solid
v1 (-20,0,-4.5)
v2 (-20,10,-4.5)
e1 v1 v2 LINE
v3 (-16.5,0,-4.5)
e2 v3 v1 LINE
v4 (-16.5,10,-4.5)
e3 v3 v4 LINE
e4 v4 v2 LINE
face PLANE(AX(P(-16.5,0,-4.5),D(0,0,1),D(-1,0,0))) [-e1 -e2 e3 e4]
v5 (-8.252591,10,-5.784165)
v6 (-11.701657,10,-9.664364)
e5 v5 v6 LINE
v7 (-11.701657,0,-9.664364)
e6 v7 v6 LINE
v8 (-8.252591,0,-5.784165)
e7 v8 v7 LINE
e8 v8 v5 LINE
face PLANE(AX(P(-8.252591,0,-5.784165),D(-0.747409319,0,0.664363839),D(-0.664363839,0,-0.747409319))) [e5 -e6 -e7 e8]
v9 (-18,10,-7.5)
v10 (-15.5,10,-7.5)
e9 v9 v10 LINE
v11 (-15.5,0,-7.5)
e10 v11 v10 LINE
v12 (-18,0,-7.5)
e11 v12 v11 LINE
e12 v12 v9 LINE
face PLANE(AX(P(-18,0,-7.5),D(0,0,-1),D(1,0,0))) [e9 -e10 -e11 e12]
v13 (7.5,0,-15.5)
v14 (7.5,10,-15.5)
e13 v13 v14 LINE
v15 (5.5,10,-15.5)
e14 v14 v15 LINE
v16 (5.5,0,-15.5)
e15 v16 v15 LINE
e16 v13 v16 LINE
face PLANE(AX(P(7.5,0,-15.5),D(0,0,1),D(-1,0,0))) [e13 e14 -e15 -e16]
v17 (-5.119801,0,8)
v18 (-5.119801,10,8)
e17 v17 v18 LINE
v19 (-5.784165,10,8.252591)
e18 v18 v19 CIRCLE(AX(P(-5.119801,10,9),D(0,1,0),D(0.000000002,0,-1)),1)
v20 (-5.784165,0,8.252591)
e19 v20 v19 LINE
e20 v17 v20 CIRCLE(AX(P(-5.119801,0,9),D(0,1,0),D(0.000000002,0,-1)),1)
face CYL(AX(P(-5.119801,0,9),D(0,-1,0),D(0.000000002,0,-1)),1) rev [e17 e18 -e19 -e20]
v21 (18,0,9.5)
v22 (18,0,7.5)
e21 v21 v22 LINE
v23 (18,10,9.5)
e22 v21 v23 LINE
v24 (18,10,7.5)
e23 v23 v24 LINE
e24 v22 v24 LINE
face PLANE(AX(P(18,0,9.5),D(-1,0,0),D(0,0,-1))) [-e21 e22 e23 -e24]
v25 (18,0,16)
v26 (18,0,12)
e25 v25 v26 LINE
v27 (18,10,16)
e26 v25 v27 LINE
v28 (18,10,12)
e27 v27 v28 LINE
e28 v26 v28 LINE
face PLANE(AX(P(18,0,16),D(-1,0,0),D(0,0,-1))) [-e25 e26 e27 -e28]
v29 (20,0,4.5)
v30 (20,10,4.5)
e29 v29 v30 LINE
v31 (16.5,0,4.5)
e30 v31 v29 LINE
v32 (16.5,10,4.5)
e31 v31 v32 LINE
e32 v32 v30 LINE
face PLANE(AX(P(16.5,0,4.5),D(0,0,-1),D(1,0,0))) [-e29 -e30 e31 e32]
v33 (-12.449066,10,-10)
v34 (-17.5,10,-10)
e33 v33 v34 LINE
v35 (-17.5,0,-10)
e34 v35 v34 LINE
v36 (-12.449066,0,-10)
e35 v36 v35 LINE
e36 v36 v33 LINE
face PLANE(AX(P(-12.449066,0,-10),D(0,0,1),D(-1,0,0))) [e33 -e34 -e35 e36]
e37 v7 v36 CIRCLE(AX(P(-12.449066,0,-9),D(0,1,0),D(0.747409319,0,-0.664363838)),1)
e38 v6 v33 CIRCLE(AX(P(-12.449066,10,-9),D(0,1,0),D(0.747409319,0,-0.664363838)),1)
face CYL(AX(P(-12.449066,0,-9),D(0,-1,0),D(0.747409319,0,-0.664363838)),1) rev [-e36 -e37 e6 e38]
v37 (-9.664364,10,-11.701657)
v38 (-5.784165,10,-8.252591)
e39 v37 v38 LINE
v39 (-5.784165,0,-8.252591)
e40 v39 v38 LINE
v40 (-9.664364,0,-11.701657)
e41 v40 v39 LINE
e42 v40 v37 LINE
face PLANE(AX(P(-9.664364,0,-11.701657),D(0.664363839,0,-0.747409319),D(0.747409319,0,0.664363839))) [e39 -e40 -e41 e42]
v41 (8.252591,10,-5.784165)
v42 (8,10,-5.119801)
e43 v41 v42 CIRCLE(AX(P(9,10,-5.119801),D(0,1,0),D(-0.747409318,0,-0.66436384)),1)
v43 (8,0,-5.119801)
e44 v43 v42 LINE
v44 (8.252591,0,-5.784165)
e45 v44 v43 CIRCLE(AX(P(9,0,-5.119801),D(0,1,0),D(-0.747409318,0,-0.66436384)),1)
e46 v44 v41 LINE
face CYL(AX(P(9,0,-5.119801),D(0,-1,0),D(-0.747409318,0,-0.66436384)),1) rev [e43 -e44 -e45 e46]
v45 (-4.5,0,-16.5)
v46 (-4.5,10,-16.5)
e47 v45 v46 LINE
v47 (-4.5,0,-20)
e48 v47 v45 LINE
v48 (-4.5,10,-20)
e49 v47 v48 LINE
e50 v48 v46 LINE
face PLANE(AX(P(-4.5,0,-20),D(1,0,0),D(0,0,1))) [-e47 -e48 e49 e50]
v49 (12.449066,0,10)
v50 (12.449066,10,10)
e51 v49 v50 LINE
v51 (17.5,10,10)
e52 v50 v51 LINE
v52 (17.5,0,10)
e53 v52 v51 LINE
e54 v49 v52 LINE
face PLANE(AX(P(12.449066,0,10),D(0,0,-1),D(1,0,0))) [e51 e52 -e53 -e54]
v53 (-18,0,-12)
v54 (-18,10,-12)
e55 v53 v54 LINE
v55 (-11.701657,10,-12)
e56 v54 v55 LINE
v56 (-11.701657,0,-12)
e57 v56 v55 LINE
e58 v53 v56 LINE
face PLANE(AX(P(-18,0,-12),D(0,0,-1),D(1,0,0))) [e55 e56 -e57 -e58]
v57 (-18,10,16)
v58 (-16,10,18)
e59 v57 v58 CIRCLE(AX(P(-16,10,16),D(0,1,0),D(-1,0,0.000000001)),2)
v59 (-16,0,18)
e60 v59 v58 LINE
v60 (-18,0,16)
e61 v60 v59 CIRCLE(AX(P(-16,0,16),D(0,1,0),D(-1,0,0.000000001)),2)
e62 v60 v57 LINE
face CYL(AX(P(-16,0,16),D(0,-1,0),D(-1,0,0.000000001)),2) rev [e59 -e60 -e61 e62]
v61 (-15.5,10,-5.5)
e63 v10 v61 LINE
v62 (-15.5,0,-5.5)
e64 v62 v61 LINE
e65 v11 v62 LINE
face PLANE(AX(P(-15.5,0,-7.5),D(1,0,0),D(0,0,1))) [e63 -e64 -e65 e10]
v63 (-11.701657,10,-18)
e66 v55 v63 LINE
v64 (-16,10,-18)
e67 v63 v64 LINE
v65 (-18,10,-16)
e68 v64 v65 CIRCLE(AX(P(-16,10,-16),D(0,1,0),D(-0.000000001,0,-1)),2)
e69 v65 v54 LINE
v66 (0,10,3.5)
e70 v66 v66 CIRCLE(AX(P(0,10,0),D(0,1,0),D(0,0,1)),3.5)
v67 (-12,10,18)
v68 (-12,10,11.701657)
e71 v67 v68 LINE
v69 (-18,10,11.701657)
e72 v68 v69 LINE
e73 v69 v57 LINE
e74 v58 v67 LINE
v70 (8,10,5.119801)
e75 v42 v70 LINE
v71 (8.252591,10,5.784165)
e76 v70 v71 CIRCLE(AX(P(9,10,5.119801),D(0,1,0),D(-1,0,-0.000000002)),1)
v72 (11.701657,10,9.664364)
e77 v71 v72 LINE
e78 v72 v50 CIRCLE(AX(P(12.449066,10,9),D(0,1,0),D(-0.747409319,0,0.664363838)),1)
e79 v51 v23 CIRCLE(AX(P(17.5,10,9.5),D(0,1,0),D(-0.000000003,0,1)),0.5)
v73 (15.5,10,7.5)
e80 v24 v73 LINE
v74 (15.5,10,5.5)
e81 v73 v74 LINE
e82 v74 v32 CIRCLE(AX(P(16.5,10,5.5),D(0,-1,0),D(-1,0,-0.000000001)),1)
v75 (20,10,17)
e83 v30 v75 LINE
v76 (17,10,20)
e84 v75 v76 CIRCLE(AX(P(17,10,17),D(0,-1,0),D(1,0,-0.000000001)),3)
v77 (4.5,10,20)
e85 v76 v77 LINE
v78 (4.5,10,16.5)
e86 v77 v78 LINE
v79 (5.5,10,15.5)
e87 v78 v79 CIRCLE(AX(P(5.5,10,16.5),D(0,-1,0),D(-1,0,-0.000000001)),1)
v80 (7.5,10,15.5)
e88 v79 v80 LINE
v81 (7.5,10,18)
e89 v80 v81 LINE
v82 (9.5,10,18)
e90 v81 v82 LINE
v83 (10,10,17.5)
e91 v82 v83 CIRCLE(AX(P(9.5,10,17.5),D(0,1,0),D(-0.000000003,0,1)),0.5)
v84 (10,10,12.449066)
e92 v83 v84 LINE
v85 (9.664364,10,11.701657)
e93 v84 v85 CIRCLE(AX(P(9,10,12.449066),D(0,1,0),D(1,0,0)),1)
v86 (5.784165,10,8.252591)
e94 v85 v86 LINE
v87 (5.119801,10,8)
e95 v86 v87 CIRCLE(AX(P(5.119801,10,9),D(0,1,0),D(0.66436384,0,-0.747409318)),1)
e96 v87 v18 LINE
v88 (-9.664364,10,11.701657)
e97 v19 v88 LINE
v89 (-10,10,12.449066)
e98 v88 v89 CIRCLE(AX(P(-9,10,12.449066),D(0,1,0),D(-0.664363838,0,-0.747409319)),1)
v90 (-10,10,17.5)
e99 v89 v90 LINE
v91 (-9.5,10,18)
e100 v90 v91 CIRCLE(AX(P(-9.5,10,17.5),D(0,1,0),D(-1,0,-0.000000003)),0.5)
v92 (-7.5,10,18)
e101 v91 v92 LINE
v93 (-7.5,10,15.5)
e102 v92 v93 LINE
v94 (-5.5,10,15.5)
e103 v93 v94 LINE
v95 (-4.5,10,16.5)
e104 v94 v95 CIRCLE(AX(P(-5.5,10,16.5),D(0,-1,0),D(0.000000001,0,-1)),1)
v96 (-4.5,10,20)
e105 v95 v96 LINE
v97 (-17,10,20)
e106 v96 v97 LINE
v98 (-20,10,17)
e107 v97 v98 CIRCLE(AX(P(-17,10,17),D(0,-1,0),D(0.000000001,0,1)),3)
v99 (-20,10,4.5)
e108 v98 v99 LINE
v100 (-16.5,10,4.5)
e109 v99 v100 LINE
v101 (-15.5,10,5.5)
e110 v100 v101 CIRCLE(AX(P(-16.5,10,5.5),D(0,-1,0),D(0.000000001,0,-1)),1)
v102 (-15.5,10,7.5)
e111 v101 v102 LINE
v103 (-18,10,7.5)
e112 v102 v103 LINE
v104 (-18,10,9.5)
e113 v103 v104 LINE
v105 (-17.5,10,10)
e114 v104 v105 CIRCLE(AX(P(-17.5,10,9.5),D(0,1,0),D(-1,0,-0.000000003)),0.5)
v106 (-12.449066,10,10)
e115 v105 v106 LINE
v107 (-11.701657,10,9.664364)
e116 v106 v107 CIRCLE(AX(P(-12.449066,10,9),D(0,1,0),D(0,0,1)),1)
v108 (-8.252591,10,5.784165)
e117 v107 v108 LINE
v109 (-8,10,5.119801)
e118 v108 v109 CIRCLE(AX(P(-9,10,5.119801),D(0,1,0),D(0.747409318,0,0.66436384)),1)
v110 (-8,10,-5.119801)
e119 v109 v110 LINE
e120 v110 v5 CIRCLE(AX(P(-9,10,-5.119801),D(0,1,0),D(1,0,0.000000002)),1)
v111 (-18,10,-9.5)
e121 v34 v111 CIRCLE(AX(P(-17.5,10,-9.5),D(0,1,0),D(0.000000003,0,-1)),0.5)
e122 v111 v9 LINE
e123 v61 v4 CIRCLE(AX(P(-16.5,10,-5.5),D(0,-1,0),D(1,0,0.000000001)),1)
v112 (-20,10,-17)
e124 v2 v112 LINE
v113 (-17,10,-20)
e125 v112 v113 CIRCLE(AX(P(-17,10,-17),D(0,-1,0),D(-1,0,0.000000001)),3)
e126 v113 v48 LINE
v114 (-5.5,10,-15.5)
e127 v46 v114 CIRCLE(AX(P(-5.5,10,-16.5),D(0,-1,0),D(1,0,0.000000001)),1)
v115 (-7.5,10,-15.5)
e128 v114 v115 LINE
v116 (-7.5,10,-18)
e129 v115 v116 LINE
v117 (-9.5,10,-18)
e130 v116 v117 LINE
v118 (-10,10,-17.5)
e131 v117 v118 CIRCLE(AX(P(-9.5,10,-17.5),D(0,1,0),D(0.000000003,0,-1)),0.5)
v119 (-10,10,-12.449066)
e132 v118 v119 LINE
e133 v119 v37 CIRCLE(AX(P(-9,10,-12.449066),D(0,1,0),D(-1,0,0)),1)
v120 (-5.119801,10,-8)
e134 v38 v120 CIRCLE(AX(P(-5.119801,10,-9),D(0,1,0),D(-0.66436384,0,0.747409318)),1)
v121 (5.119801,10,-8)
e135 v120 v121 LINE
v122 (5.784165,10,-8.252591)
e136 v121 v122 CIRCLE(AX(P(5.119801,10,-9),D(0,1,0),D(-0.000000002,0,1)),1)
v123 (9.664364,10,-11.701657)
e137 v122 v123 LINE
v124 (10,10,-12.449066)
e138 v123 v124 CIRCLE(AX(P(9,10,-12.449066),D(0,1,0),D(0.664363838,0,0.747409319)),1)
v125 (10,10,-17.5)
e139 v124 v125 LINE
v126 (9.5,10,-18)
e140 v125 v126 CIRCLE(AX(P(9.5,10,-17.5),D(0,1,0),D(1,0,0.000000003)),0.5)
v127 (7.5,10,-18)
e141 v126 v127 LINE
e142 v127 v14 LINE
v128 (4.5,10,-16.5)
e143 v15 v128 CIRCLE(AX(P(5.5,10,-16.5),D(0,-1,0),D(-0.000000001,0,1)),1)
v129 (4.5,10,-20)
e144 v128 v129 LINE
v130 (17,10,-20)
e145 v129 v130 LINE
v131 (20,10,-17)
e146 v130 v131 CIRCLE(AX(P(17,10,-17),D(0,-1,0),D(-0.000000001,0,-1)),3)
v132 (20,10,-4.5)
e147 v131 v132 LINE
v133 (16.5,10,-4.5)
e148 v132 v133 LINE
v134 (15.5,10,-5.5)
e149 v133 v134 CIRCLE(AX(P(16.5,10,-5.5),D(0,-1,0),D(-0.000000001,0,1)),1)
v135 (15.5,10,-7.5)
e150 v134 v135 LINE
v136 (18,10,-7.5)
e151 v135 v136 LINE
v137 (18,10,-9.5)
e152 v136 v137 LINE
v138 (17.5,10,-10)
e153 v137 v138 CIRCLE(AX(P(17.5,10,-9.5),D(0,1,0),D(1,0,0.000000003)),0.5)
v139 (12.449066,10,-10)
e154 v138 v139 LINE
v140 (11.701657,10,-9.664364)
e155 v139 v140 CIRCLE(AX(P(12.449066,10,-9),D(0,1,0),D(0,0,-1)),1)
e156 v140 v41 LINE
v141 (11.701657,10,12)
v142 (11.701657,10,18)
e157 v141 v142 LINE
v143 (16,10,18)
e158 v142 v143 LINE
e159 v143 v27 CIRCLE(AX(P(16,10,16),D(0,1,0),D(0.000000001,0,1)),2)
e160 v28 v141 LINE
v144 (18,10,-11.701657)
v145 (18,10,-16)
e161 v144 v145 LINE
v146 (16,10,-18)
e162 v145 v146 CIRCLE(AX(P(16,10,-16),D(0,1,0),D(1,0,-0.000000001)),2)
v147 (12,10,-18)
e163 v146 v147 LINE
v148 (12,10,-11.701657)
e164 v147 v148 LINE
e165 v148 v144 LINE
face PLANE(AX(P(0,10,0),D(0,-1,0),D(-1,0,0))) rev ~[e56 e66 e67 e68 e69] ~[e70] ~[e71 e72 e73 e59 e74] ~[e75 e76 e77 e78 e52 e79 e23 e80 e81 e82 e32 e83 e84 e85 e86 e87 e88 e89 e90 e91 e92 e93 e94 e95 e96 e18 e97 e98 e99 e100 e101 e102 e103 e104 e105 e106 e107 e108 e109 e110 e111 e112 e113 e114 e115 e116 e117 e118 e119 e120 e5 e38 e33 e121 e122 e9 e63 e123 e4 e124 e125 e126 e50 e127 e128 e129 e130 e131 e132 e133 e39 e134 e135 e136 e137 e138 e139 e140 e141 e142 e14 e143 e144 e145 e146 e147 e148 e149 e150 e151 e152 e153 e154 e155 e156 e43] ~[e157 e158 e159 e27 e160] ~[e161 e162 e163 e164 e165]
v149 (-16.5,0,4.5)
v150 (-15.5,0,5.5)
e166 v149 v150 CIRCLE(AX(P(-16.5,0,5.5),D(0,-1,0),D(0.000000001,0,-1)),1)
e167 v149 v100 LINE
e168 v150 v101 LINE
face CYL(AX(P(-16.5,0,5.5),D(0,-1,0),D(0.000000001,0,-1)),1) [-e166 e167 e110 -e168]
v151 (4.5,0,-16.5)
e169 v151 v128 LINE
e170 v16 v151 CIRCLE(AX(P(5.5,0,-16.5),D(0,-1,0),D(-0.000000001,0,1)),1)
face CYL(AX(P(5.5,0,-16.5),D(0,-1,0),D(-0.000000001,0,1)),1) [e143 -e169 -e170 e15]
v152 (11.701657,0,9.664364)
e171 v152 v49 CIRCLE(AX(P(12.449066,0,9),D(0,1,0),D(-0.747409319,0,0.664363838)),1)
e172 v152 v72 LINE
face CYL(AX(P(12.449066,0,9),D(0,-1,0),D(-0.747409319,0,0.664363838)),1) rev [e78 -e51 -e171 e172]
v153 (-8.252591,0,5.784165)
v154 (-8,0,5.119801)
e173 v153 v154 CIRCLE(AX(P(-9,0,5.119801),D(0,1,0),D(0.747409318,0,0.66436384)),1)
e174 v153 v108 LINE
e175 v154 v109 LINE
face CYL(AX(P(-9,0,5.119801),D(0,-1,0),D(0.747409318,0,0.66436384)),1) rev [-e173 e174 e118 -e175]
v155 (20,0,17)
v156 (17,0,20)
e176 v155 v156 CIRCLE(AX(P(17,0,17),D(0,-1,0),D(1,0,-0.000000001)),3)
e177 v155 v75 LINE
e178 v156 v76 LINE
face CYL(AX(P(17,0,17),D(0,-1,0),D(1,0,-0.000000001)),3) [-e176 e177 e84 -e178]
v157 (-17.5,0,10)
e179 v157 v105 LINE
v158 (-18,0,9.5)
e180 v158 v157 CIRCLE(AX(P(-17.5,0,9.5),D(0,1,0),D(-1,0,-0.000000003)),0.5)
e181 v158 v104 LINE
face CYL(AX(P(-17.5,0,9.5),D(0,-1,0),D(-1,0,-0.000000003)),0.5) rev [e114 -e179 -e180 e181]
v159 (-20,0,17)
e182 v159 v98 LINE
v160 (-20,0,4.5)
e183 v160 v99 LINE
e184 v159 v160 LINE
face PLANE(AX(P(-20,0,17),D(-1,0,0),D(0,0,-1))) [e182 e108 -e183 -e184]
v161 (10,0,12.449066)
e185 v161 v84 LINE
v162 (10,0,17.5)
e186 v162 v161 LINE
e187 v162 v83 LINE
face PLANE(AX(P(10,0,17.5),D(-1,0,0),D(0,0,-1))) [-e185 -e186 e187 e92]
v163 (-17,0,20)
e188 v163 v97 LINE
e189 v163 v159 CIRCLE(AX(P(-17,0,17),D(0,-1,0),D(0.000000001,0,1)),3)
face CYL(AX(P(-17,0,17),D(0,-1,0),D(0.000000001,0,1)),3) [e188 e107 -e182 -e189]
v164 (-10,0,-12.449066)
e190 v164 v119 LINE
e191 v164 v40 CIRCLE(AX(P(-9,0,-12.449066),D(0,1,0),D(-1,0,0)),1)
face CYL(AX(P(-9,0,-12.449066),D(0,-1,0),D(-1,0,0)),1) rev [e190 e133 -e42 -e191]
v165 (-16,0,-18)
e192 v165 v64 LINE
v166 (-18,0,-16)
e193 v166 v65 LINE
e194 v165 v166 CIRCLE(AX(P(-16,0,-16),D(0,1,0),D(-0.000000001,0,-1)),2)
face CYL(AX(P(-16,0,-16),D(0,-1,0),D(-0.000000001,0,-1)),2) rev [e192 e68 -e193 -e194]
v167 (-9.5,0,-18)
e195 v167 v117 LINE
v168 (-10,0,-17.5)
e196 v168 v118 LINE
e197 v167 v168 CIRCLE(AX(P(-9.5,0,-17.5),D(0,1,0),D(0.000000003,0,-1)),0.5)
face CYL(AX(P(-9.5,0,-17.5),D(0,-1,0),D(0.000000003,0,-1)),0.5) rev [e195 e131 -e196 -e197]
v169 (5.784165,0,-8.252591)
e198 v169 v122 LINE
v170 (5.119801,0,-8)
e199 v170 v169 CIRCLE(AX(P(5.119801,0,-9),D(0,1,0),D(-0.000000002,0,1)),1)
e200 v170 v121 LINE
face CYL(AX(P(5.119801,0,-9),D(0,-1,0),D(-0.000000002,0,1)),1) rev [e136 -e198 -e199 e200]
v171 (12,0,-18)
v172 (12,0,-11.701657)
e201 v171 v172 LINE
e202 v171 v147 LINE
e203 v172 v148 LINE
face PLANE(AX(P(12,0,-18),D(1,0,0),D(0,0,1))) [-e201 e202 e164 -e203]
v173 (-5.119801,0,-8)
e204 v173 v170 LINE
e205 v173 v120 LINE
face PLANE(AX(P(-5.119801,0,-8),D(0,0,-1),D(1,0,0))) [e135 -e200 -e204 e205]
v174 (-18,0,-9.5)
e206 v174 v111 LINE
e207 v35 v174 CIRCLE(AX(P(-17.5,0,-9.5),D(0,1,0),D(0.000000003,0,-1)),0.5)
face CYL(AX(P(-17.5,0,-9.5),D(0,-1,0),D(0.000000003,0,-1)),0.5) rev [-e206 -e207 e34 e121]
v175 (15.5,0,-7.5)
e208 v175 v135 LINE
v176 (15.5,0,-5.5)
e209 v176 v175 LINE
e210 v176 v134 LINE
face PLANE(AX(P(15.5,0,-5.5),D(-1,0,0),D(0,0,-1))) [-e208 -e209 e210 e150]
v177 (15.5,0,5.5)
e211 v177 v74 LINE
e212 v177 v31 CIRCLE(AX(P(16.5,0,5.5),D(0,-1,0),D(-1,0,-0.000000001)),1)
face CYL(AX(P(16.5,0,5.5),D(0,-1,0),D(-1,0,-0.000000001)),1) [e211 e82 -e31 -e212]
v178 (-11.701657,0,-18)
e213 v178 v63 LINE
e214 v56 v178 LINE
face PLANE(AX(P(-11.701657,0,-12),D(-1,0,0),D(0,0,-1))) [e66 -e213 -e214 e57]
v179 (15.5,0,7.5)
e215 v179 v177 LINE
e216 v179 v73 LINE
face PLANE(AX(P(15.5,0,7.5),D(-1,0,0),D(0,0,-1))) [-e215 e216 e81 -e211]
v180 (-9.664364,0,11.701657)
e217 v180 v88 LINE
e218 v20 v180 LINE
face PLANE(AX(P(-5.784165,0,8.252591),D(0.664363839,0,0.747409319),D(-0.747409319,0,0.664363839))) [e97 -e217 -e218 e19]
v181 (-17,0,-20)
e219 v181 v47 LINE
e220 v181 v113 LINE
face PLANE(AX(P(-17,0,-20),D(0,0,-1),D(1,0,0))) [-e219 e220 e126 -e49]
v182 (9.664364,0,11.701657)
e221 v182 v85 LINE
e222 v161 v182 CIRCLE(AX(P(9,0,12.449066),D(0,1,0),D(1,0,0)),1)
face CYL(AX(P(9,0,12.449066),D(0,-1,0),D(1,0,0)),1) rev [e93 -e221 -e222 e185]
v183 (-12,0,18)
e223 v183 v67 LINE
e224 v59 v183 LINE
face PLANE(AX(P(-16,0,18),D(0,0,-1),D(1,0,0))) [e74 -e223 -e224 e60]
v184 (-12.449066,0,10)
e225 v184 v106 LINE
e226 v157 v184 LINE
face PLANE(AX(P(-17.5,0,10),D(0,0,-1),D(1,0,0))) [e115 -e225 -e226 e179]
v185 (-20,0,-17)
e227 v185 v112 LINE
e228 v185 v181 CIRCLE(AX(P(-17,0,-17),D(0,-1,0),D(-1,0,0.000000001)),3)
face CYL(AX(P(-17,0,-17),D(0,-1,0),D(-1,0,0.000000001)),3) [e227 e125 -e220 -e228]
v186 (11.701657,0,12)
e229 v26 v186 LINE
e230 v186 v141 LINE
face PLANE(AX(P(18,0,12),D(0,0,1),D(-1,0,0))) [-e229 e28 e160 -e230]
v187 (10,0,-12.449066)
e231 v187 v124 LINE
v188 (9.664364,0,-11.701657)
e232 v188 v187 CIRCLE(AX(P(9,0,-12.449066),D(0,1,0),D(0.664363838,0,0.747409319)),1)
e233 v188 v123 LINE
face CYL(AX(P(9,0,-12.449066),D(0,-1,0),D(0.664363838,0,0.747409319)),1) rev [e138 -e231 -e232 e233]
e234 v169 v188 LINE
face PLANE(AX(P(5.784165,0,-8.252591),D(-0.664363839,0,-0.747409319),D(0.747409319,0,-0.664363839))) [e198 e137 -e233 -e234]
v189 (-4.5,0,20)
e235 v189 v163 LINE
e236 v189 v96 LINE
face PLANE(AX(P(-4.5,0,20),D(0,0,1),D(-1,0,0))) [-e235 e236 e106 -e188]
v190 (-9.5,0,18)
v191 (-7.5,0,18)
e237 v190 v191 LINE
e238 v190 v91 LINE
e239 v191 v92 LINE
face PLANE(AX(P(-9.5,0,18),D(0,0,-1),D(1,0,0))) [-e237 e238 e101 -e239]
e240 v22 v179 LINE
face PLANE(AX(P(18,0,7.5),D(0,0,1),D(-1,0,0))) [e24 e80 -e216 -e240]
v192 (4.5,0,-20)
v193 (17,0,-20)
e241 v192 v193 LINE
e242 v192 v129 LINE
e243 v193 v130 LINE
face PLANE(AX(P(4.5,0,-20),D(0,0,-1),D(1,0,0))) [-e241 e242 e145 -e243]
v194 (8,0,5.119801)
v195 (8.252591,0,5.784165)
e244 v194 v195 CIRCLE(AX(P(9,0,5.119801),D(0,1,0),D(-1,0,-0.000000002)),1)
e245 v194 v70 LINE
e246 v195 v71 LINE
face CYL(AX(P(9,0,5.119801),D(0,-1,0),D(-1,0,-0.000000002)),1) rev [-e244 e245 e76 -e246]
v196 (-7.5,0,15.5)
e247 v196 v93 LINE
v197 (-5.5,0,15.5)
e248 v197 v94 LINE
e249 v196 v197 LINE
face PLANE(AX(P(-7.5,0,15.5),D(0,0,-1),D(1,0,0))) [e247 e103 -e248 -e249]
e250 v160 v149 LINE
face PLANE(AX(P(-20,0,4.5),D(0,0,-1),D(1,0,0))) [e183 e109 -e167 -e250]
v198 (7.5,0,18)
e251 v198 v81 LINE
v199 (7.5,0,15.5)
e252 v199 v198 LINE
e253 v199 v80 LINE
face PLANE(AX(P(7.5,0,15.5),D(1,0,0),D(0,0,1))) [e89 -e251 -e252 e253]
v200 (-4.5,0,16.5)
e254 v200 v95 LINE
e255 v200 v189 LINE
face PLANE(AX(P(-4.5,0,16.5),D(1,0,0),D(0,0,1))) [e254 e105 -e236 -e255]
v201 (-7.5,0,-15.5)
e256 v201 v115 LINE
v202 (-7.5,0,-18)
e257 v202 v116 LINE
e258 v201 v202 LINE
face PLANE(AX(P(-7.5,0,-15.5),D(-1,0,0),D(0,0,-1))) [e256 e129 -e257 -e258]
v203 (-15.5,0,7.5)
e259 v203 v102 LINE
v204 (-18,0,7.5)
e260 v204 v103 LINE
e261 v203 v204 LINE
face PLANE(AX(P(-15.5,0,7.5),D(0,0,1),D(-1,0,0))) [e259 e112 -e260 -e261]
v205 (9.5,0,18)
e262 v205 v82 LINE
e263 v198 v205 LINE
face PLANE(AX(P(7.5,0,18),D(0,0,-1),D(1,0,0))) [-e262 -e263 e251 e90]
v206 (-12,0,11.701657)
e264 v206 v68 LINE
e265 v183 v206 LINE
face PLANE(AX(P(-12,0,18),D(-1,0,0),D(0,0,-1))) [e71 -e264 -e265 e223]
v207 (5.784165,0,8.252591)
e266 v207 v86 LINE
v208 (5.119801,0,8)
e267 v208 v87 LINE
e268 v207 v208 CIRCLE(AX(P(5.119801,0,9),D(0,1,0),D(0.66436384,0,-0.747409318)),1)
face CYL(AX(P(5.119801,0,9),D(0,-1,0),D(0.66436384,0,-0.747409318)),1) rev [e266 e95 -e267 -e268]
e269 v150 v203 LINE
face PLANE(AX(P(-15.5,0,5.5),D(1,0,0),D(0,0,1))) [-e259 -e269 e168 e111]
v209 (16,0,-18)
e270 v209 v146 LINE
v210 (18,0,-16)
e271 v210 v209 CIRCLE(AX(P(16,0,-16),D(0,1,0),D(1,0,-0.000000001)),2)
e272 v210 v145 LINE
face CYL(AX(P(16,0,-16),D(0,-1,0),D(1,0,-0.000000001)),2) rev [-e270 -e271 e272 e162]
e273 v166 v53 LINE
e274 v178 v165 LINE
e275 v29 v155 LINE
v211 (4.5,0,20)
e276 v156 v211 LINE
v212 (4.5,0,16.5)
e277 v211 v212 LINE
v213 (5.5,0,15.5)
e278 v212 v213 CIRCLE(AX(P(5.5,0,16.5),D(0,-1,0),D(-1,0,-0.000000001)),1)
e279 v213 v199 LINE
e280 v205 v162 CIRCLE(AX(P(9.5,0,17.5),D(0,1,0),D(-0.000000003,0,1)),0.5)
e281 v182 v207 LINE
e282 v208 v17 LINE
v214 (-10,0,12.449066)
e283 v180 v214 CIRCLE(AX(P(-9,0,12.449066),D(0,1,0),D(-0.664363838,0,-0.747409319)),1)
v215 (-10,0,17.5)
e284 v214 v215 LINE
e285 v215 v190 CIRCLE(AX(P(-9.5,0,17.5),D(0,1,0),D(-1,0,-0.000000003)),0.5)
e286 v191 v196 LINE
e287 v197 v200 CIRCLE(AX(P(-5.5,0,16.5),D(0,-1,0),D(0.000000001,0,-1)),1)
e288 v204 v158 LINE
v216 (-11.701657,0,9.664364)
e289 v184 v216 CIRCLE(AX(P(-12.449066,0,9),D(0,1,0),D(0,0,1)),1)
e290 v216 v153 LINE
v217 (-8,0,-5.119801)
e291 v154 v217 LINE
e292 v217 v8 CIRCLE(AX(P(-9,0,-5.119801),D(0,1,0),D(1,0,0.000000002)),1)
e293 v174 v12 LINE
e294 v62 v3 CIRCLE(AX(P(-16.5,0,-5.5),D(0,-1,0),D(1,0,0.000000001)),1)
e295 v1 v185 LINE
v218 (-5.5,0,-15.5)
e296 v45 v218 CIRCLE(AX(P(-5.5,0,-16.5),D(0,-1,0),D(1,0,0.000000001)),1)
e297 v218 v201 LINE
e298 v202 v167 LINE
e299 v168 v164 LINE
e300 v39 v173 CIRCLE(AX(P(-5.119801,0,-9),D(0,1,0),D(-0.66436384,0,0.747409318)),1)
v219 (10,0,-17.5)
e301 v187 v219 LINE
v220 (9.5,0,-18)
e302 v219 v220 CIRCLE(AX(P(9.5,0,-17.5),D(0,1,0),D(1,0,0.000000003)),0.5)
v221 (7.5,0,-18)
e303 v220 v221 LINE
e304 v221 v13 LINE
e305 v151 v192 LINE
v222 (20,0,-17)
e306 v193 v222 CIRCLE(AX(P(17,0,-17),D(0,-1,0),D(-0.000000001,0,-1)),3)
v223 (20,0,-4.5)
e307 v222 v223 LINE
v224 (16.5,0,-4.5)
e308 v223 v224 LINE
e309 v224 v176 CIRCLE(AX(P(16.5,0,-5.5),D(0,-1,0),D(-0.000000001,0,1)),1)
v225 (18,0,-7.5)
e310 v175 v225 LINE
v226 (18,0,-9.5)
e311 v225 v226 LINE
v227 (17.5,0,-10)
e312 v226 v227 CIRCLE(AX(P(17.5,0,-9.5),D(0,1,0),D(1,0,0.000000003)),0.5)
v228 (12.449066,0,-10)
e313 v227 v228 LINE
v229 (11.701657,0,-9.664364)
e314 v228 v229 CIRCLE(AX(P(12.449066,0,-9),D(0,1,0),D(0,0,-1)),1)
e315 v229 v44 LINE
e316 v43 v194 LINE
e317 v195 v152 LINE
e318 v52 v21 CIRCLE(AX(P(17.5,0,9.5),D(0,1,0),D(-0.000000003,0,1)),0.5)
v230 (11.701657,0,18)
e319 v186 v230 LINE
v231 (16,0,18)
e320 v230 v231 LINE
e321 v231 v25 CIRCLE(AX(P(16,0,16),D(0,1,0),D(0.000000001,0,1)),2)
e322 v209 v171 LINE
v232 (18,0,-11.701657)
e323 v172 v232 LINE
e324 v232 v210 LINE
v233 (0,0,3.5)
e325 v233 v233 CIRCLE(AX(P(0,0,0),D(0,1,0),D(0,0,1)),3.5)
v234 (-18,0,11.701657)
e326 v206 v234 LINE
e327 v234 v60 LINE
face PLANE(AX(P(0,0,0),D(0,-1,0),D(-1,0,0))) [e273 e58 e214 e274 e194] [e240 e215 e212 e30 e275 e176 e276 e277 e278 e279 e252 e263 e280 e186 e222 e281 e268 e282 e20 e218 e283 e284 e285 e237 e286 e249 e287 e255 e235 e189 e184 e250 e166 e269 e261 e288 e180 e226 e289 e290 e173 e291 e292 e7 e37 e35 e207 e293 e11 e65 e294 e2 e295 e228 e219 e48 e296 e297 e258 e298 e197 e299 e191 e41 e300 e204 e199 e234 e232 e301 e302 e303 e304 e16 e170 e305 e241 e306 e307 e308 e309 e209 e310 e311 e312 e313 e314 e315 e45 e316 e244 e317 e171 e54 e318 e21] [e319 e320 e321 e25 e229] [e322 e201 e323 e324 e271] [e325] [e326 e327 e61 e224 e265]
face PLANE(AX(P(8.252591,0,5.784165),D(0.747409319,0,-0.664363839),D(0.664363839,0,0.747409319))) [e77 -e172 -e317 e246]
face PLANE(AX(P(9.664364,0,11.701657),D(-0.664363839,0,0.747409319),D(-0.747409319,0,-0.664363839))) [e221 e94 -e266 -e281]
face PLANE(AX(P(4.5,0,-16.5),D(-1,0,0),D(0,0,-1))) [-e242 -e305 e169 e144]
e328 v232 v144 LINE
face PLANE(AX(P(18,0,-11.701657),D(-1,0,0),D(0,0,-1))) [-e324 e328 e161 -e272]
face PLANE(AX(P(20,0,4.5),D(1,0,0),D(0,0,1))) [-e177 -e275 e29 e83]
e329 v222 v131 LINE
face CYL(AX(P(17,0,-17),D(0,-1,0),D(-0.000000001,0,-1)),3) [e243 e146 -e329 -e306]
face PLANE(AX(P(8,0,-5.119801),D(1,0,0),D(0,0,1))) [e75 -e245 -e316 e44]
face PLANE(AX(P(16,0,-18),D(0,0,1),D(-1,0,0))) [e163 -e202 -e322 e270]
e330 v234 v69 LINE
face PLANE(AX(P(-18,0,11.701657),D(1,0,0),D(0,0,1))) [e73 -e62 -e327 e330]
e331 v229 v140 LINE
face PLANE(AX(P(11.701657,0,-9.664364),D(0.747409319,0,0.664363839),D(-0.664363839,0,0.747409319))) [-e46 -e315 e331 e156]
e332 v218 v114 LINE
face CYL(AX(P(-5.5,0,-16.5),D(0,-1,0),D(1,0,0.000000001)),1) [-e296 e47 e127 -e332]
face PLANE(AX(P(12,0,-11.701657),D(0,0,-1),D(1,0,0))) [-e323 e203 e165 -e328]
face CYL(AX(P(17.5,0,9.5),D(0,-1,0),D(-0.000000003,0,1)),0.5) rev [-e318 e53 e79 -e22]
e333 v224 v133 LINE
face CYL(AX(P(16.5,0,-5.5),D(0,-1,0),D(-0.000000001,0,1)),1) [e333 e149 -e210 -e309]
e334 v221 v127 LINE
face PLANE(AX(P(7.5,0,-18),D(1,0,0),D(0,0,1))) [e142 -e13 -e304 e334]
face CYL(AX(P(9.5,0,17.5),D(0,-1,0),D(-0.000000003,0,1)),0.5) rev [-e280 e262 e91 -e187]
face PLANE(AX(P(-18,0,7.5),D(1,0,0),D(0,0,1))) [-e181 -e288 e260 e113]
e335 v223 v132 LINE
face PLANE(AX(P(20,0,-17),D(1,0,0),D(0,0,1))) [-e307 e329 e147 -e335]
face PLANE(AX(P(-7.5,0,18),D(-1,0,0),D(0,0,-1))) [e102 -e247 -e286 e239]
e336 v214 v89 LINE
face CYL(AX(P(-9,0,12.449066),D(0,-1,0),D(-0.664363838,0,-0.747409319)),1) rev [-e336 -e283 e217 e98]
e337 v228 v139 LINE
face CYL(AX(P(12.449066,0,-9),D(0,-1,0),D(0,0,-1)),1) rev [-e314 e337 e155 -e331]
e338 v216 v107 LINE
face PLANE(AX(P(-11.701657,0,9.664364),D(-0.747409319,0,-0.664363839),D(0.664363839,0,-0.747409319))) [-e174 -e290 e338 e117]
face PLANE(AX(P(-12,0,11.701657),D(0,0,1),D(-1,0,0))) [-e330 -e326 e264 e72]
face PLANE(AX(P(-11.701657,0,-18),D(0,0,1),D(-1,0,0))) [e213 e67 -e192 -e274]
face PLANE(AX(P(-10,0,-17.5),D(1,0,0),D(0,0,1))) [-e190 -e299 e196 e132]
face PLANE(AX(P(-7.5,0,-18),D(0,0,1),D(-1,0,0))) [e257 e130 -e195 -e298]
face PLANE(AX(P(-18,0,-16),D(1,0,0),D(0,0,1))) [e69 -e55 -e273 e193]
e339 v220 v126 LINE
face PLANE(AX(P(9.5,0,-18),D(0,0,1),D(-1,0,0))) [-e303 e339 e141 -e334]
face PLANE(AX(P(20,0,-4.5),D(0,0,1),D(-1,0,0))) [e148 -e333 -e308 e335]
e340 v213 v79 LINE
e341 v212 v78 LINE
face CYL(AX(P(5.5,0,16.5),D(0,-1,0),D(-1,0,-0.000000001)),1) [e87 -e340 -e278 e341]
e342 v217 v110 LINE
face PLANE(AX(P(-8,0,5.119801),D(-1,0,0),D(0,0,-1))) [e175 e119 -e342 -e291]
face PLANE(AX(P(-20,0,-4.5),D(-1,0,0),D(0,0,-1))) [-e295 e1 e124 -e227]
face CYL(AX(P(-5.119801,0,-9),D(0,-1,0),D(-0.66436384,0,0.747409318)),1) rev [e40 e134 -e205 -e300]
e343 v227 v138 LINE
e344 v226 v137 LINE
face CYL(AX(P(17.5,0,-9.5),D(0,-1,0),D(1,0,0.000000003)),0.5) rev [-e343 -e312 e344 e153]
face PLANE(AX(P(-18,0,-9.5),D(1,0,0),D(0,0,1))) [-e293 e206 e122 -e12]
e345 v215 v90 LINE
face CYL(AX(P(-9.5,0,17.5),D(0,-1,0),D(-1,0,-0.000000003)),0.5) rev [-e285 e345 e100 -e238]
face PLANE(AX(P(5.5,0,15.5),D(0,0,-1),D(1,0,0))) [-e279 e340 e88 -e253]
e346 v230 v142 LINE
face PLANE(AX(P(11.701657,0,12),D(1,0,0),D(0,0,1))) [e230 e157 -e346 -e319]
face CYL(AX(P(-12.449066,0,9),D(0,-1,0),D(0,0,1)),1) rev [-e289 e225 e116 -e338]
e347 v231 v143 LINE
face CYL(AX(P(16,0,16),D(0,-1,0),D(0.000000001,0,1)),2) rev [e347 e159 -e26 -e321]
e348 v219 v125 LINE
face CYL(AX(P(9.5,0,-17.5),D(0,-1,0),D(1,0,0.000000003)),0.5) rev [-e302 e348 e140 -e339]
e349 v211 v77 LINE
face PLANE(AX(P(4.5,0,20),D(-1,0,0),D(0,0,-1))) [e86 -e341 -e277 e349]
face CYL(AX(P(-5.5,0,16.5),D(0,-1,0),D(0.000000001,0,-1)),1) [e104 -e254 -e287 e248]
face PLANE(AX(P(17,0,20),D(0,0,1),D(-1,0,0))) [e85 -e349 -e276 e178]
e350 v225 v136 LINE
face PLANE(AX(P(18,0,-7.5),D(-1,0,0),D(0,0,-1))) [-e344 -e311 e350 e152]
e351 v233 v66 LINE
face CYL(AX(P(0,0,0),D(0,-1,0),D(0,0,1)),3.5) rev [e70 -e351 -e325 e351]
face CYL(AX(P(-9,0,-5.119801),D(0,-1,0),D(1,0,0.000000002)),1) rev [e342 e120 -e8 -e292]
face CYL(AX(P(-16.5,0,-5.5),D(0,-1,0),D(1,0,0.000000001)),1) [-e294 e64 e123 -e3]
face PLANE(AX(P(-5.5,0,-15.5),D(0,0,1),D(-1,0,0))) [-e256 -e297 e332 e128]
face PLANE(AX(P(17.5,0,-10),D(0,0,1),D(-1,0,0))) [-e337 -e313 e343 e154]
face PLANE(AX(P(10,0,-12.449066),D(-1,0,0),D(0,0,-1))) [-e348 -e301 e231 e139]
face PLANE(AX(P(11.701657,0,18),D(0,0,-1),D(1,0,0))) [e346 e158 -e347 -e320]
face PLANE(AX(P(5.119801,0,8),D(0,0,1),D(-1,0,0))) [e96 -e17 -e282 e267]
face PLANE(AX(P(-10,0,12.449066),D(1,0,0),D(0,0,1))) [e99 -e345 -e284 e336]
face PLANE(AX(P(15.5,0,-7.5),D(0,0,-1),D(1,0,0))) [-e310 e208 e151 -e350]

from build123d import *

# Parameters (mm, degrees)
SKETCH_1_R      = 3.5
EXTRUDE_1_DEPTH = 10


with BuildPart() as part:
    # 草图1 → 凸台-拉伸1 (new body)
    with BuildSketch(Plane(origin=(0, 0, 0), x_dir=(1, 0, 0), z_dir=(0, 1, 0))):
        with BuildLine():
            Line((11.701656746, 9.664363839), (8.252590681, 5.784164516))
            ThreePointArc((8.252590681, 5.784164516), (8.065278298, 5.475181235), (8, 5.119800678))
            Line((8, 5.119800678), (8, -5.119800678))
            ThreePointArc((8, -5.119800678), (8.065278298, -5.475181235), (8.252590681, -5.784164516))
            Line((8.252590681, -5.784164516), (11.701656746, -9.664363839))
            ThreePointArc((11.701656746, -9.664363839), (12.039410013, -9.912240056), (12.449066064, -10))
            Line((12.449066064, -10), (17.5, -10))
            ThreePointArc((17.5, -10), (17.853553391, -9.853553391), (18, -9.5))
            Line((18, -9.5), (18, -7.5))
            Line((18, -7.5), (15.5, -7.5))
            Line((15.5, -7.5), (15.5, -5.5))
            ThreePointArc((15.5, -5.5), (15.792893219, -4.792893219), (16.5, -4.5))
            Line((16.5, -4.5), (20, -4.5))
            Line((20, -4.5), (20, -17))
            ThreePointArc((20, -17), (19.121320344, -19.121320344), (17, -20))
            Line((17, -20), (4.5, -20))
            Line((4.5, -20), (4.5, -16.5))
            ThreePointArc((4.5, -16.5), (4.792893219, -15.792893219), (5.5, -15.5))
            Line((5.5, -15.5), (7.5, -15.5))
            Line((7.5, -15.5), (7.5, -18))
            Line((7.5, -18), (9.5, -18))
            ThreePointArc((9.5, -18), (9.853553391, -17.853553391), (10, -17.5))
            Line((10, -17.5), (10, -12.449066064))
            ThreePointArc((10, -12.449066064), (9.912240056, -12.039410013), (9.664363839, -11.701656746))
            Line((9.664363839, -11.701656746), (5.784164516, -8.252590681))
            ThreePointArc((5.784164516, -8.252590681), (5.475181235, -8.065278298), (5.119800678, -8))
            Line((5.119800678, -8), (-5.119800678, -8))
            ThreePointArc((-5.119800678, -8), (-5.475181235, -8.065278298), (-5.784164516, -8.252590681))
            Line((-5.784164516, -8.252590681), (-9.664363839, -11.701656746))
            ThreePointArc((-9.664363839, -11.701656746), (-9.912240056, -12.039410013), (-10, -12.449066064))
            Line((-10, -12.449066064), (-10, -17.5))
            ThreePointArc((-10, -17.5), (-9.853553391, -17.853553391), (-9.5, -18))
            Line((-9.5, -18), (-7.5, -18))
            Line((-7.5, -18), (-7.5, -15.5))
            Line((-7.5, -15.5), (-5.5, -15.5))
            ThreePointArc((-5.5, -15.5), (-4.792893219, -15.792893219), (-4.5, -16.5))
            Line((-4.5, -16.5), (-4.5, -20))
            Line((-4.5, -20), (-17, -20))
            ThreePointArc((-17, -20), (-19.121320344, -19.121320344), (-20, -17))
            Line((-20, -17), (-20, -4.5))
            Line((-20, -4.5), (-16.5, -4.5))
            ThreePointArc((-16.5, -4.5), (-15.792893219, -4.792893219), (-15.5, -5.5))
            Line((-15.5, -5.5), (-15.5, -7.5))
            Line((-15.5, -7.5), (-18, -7.5))
            Line((-18, -7.5), (-18, -9.5))
            ThreePointArc((-18, -9.5), (-17.853553391, -9.853553391), (-17.5, -10))
            Line((-17.5, -10), (-12.449066064, -10))
            ThreePointArc((-12.449066064, -10), (-12.039410013, -9.912240056), (-11.701656746, -9.664363839))
            Line((-11.701656746, -9.664363839), (-8.252590681, -5.784164516))
            ThreePointArc((-8.252590681, -5.784164516), (-8.065278298, -5.475181235), (-8, -5.119800678))
            Line((-8, -5.119800678), (-8, 5.119800678))
            ThreePointArc((-8, 5.119800678), (-8.065278298, 5.475181235), (-8.252590681, 5.784164516))
            Line((-8.252590681, 5.784164516), (-11.701656746, 9.664363839))
            ThreePointArc((-11.701656746, 9.664363839), (-12.039410013, 9.912240056), (-12.449066064, 10))
            Line((-12.449066064, 10), (-17.5, 10))
            ThreePointArc((-17.5, 10), (-17.853553391, 9.853553391), (-18, 9.5))
            Line((-18, 9.5), (-18, 7.5))
            Line((-18, 7.5), (-15.5, 7.5))
            Line((-15.5, 7.5), (-15.5, 5.5))
            ThreePointArc((-15.5, 5.5), (-15.792893219, 4.792893219), (-16.5, 4.5))
            Line((-16.5, 4.5), (-20, 4.5))
            Line((-20, 4.5), (-20, 17))
            ThreePointArc((-20, 17), (-19.121320344, 19.121320344), (-17, 20))
            Line((-17, 20), (-4.5, 20))
            Line((-4.5, 20), (-4.5, 16.5))
            ThreePointArc((-4.5, 16.5), (-4.792893219, 15.792893219), (-5.5, 15.5))
            Line((-5.5, 15.5), (-7.5, 15.5))
            Line((-7.5, 15.5), (-7.5, 18))
            Line((-7.5, 18), (-9.5, 18))
            ThreePointArc((-9.5, 18), (-9.853553391, 17.853553391), (-10, 17.5))
            Line((-10, 17.5), (-10, 12.449066064))
            ThreePointArc((-10, 12.449066064), (-9.912240056, 12.039410013), (-9.664363839, 11.701656746))
            Line((-9.664363839, 11.701656746), (-5.784164516, 8.252590681))
            ThreePointArc((-5.784164516, 8.252590681), (-5.475181235, 8.065278298), (-5.119800678, 8))
            Line((-5.119800678, 8), (5.119800678, 8))
            ThreePointArc((5.119800678, 8), (5.475181235, 8.065278298), (5.784164516, 8.252590681))
            Line((5.784164516, 8.252590681), (9.664363839, 11.701656746))
            ThreePointArc((9.664363839, 11.701656746), (9.912240056, 12.039410013), (10, 12.449066064))
            Line((10, 12.449066064), (10, 17.5))
            ThreePointArc((10, 17.5), (9.853553391, 17.853553391), (9.5, 18))
            Line((9.5, 18), (7.5, 18))
            Line((7.5, 18), (7.5, 15.5))
            Line((7.5, 15.5), (5.5, 15.5))
            ThreePointArc((5.5, 15.5), (4.792893219, 15.792893219), (4.5, 16.5))
            Line((4.5, 16.5), (4.5, 20))
            Line((4.5, 20), (17, 20))
            ThreePointArc((17, 20), (19.121320344, 19.121320344), (20, 17))
            Line((20, 17), (20, 4.5))
            Line((20, 4.5), (16.5, 4.5))
            ThreePointArc((16.5, 4.5), (15.792893219, 4.792893219), (15.5, 5.5))
            Line((15.5, 5.5), (15.5, 7.5))
            Line((15.5, 7.5), (18, 7.5))
            Line((18, 7.5), (18, 9.5))
            ThreePointArc((18, 9.5), (17.853553391, 9.853553391), (17.5, 10))
            Line((17.5, 10), (12.449066064, 10))
            ThreePointArc((12.449066064, 10), (12.039410013, 9.912240056), (11.701656746, 9.664363839))
        make_face()
        with Locations(Location((0, 0, 0), (0, 0, 270))):
            Circle(SKETCH_1_R, mode=Mode.SUBTRACT)
        with BuildLine():
            Line((18, -12), (11.701656746, -12))
            Line((11.701656746, -12), (11.701656746, -18))
            Line((11.701656746, -18), (16, -18))
            ThreePointArc((16, -18), (17.414213562, -17.414213562), (18, -16))
            Line((18, -16), (18, -12))
        make_face(mode=Mode.SUBTRACT)
        with BuildLine():
            Line((12, 18), (12, 11.701656746))
            Line((12, 11.701656746), (18, 11.701656746))
            Line((18, 11.701656746), (18, 16))
            ThreePointArc((18, 16), (17.414213562, 17.414213562), (16, 18))
            Line((16, 18), (12, 18))
        make_face(mode=Mode.SUBTRACT)
        with BuildLine():
            Line((-12, -18), (-12, -11.701656746))
            Line((-12, -11.701656746), (-18, -11.701656746))
            Line((-18, -11.701656746), (-18, -16))
            ThreePointArc((-18, -16), (-17.414213562, -17.414213562), (-16, -18))
            Line((-16, -18), (-12, -18))
        make_face(mode=Mode.SUBTRACT)
        with BuildLine():
            Line((-18, 12), (-11.701656746, 12))
            Line((-11.701656746, 12), (-11.701656746, 18))
            Line((-11.701656746, 18), (-16, 18))
            ThreePointArc((-16, 18), (-17.414213562, 17.414213562), (-18, 16))
            Line((-18, 16), (-18, 12))
        make_face(mode=Mode.SUBTRACT)
    extrude(amount=EXTRUDE_1_DEPTH)


solid = part.part
